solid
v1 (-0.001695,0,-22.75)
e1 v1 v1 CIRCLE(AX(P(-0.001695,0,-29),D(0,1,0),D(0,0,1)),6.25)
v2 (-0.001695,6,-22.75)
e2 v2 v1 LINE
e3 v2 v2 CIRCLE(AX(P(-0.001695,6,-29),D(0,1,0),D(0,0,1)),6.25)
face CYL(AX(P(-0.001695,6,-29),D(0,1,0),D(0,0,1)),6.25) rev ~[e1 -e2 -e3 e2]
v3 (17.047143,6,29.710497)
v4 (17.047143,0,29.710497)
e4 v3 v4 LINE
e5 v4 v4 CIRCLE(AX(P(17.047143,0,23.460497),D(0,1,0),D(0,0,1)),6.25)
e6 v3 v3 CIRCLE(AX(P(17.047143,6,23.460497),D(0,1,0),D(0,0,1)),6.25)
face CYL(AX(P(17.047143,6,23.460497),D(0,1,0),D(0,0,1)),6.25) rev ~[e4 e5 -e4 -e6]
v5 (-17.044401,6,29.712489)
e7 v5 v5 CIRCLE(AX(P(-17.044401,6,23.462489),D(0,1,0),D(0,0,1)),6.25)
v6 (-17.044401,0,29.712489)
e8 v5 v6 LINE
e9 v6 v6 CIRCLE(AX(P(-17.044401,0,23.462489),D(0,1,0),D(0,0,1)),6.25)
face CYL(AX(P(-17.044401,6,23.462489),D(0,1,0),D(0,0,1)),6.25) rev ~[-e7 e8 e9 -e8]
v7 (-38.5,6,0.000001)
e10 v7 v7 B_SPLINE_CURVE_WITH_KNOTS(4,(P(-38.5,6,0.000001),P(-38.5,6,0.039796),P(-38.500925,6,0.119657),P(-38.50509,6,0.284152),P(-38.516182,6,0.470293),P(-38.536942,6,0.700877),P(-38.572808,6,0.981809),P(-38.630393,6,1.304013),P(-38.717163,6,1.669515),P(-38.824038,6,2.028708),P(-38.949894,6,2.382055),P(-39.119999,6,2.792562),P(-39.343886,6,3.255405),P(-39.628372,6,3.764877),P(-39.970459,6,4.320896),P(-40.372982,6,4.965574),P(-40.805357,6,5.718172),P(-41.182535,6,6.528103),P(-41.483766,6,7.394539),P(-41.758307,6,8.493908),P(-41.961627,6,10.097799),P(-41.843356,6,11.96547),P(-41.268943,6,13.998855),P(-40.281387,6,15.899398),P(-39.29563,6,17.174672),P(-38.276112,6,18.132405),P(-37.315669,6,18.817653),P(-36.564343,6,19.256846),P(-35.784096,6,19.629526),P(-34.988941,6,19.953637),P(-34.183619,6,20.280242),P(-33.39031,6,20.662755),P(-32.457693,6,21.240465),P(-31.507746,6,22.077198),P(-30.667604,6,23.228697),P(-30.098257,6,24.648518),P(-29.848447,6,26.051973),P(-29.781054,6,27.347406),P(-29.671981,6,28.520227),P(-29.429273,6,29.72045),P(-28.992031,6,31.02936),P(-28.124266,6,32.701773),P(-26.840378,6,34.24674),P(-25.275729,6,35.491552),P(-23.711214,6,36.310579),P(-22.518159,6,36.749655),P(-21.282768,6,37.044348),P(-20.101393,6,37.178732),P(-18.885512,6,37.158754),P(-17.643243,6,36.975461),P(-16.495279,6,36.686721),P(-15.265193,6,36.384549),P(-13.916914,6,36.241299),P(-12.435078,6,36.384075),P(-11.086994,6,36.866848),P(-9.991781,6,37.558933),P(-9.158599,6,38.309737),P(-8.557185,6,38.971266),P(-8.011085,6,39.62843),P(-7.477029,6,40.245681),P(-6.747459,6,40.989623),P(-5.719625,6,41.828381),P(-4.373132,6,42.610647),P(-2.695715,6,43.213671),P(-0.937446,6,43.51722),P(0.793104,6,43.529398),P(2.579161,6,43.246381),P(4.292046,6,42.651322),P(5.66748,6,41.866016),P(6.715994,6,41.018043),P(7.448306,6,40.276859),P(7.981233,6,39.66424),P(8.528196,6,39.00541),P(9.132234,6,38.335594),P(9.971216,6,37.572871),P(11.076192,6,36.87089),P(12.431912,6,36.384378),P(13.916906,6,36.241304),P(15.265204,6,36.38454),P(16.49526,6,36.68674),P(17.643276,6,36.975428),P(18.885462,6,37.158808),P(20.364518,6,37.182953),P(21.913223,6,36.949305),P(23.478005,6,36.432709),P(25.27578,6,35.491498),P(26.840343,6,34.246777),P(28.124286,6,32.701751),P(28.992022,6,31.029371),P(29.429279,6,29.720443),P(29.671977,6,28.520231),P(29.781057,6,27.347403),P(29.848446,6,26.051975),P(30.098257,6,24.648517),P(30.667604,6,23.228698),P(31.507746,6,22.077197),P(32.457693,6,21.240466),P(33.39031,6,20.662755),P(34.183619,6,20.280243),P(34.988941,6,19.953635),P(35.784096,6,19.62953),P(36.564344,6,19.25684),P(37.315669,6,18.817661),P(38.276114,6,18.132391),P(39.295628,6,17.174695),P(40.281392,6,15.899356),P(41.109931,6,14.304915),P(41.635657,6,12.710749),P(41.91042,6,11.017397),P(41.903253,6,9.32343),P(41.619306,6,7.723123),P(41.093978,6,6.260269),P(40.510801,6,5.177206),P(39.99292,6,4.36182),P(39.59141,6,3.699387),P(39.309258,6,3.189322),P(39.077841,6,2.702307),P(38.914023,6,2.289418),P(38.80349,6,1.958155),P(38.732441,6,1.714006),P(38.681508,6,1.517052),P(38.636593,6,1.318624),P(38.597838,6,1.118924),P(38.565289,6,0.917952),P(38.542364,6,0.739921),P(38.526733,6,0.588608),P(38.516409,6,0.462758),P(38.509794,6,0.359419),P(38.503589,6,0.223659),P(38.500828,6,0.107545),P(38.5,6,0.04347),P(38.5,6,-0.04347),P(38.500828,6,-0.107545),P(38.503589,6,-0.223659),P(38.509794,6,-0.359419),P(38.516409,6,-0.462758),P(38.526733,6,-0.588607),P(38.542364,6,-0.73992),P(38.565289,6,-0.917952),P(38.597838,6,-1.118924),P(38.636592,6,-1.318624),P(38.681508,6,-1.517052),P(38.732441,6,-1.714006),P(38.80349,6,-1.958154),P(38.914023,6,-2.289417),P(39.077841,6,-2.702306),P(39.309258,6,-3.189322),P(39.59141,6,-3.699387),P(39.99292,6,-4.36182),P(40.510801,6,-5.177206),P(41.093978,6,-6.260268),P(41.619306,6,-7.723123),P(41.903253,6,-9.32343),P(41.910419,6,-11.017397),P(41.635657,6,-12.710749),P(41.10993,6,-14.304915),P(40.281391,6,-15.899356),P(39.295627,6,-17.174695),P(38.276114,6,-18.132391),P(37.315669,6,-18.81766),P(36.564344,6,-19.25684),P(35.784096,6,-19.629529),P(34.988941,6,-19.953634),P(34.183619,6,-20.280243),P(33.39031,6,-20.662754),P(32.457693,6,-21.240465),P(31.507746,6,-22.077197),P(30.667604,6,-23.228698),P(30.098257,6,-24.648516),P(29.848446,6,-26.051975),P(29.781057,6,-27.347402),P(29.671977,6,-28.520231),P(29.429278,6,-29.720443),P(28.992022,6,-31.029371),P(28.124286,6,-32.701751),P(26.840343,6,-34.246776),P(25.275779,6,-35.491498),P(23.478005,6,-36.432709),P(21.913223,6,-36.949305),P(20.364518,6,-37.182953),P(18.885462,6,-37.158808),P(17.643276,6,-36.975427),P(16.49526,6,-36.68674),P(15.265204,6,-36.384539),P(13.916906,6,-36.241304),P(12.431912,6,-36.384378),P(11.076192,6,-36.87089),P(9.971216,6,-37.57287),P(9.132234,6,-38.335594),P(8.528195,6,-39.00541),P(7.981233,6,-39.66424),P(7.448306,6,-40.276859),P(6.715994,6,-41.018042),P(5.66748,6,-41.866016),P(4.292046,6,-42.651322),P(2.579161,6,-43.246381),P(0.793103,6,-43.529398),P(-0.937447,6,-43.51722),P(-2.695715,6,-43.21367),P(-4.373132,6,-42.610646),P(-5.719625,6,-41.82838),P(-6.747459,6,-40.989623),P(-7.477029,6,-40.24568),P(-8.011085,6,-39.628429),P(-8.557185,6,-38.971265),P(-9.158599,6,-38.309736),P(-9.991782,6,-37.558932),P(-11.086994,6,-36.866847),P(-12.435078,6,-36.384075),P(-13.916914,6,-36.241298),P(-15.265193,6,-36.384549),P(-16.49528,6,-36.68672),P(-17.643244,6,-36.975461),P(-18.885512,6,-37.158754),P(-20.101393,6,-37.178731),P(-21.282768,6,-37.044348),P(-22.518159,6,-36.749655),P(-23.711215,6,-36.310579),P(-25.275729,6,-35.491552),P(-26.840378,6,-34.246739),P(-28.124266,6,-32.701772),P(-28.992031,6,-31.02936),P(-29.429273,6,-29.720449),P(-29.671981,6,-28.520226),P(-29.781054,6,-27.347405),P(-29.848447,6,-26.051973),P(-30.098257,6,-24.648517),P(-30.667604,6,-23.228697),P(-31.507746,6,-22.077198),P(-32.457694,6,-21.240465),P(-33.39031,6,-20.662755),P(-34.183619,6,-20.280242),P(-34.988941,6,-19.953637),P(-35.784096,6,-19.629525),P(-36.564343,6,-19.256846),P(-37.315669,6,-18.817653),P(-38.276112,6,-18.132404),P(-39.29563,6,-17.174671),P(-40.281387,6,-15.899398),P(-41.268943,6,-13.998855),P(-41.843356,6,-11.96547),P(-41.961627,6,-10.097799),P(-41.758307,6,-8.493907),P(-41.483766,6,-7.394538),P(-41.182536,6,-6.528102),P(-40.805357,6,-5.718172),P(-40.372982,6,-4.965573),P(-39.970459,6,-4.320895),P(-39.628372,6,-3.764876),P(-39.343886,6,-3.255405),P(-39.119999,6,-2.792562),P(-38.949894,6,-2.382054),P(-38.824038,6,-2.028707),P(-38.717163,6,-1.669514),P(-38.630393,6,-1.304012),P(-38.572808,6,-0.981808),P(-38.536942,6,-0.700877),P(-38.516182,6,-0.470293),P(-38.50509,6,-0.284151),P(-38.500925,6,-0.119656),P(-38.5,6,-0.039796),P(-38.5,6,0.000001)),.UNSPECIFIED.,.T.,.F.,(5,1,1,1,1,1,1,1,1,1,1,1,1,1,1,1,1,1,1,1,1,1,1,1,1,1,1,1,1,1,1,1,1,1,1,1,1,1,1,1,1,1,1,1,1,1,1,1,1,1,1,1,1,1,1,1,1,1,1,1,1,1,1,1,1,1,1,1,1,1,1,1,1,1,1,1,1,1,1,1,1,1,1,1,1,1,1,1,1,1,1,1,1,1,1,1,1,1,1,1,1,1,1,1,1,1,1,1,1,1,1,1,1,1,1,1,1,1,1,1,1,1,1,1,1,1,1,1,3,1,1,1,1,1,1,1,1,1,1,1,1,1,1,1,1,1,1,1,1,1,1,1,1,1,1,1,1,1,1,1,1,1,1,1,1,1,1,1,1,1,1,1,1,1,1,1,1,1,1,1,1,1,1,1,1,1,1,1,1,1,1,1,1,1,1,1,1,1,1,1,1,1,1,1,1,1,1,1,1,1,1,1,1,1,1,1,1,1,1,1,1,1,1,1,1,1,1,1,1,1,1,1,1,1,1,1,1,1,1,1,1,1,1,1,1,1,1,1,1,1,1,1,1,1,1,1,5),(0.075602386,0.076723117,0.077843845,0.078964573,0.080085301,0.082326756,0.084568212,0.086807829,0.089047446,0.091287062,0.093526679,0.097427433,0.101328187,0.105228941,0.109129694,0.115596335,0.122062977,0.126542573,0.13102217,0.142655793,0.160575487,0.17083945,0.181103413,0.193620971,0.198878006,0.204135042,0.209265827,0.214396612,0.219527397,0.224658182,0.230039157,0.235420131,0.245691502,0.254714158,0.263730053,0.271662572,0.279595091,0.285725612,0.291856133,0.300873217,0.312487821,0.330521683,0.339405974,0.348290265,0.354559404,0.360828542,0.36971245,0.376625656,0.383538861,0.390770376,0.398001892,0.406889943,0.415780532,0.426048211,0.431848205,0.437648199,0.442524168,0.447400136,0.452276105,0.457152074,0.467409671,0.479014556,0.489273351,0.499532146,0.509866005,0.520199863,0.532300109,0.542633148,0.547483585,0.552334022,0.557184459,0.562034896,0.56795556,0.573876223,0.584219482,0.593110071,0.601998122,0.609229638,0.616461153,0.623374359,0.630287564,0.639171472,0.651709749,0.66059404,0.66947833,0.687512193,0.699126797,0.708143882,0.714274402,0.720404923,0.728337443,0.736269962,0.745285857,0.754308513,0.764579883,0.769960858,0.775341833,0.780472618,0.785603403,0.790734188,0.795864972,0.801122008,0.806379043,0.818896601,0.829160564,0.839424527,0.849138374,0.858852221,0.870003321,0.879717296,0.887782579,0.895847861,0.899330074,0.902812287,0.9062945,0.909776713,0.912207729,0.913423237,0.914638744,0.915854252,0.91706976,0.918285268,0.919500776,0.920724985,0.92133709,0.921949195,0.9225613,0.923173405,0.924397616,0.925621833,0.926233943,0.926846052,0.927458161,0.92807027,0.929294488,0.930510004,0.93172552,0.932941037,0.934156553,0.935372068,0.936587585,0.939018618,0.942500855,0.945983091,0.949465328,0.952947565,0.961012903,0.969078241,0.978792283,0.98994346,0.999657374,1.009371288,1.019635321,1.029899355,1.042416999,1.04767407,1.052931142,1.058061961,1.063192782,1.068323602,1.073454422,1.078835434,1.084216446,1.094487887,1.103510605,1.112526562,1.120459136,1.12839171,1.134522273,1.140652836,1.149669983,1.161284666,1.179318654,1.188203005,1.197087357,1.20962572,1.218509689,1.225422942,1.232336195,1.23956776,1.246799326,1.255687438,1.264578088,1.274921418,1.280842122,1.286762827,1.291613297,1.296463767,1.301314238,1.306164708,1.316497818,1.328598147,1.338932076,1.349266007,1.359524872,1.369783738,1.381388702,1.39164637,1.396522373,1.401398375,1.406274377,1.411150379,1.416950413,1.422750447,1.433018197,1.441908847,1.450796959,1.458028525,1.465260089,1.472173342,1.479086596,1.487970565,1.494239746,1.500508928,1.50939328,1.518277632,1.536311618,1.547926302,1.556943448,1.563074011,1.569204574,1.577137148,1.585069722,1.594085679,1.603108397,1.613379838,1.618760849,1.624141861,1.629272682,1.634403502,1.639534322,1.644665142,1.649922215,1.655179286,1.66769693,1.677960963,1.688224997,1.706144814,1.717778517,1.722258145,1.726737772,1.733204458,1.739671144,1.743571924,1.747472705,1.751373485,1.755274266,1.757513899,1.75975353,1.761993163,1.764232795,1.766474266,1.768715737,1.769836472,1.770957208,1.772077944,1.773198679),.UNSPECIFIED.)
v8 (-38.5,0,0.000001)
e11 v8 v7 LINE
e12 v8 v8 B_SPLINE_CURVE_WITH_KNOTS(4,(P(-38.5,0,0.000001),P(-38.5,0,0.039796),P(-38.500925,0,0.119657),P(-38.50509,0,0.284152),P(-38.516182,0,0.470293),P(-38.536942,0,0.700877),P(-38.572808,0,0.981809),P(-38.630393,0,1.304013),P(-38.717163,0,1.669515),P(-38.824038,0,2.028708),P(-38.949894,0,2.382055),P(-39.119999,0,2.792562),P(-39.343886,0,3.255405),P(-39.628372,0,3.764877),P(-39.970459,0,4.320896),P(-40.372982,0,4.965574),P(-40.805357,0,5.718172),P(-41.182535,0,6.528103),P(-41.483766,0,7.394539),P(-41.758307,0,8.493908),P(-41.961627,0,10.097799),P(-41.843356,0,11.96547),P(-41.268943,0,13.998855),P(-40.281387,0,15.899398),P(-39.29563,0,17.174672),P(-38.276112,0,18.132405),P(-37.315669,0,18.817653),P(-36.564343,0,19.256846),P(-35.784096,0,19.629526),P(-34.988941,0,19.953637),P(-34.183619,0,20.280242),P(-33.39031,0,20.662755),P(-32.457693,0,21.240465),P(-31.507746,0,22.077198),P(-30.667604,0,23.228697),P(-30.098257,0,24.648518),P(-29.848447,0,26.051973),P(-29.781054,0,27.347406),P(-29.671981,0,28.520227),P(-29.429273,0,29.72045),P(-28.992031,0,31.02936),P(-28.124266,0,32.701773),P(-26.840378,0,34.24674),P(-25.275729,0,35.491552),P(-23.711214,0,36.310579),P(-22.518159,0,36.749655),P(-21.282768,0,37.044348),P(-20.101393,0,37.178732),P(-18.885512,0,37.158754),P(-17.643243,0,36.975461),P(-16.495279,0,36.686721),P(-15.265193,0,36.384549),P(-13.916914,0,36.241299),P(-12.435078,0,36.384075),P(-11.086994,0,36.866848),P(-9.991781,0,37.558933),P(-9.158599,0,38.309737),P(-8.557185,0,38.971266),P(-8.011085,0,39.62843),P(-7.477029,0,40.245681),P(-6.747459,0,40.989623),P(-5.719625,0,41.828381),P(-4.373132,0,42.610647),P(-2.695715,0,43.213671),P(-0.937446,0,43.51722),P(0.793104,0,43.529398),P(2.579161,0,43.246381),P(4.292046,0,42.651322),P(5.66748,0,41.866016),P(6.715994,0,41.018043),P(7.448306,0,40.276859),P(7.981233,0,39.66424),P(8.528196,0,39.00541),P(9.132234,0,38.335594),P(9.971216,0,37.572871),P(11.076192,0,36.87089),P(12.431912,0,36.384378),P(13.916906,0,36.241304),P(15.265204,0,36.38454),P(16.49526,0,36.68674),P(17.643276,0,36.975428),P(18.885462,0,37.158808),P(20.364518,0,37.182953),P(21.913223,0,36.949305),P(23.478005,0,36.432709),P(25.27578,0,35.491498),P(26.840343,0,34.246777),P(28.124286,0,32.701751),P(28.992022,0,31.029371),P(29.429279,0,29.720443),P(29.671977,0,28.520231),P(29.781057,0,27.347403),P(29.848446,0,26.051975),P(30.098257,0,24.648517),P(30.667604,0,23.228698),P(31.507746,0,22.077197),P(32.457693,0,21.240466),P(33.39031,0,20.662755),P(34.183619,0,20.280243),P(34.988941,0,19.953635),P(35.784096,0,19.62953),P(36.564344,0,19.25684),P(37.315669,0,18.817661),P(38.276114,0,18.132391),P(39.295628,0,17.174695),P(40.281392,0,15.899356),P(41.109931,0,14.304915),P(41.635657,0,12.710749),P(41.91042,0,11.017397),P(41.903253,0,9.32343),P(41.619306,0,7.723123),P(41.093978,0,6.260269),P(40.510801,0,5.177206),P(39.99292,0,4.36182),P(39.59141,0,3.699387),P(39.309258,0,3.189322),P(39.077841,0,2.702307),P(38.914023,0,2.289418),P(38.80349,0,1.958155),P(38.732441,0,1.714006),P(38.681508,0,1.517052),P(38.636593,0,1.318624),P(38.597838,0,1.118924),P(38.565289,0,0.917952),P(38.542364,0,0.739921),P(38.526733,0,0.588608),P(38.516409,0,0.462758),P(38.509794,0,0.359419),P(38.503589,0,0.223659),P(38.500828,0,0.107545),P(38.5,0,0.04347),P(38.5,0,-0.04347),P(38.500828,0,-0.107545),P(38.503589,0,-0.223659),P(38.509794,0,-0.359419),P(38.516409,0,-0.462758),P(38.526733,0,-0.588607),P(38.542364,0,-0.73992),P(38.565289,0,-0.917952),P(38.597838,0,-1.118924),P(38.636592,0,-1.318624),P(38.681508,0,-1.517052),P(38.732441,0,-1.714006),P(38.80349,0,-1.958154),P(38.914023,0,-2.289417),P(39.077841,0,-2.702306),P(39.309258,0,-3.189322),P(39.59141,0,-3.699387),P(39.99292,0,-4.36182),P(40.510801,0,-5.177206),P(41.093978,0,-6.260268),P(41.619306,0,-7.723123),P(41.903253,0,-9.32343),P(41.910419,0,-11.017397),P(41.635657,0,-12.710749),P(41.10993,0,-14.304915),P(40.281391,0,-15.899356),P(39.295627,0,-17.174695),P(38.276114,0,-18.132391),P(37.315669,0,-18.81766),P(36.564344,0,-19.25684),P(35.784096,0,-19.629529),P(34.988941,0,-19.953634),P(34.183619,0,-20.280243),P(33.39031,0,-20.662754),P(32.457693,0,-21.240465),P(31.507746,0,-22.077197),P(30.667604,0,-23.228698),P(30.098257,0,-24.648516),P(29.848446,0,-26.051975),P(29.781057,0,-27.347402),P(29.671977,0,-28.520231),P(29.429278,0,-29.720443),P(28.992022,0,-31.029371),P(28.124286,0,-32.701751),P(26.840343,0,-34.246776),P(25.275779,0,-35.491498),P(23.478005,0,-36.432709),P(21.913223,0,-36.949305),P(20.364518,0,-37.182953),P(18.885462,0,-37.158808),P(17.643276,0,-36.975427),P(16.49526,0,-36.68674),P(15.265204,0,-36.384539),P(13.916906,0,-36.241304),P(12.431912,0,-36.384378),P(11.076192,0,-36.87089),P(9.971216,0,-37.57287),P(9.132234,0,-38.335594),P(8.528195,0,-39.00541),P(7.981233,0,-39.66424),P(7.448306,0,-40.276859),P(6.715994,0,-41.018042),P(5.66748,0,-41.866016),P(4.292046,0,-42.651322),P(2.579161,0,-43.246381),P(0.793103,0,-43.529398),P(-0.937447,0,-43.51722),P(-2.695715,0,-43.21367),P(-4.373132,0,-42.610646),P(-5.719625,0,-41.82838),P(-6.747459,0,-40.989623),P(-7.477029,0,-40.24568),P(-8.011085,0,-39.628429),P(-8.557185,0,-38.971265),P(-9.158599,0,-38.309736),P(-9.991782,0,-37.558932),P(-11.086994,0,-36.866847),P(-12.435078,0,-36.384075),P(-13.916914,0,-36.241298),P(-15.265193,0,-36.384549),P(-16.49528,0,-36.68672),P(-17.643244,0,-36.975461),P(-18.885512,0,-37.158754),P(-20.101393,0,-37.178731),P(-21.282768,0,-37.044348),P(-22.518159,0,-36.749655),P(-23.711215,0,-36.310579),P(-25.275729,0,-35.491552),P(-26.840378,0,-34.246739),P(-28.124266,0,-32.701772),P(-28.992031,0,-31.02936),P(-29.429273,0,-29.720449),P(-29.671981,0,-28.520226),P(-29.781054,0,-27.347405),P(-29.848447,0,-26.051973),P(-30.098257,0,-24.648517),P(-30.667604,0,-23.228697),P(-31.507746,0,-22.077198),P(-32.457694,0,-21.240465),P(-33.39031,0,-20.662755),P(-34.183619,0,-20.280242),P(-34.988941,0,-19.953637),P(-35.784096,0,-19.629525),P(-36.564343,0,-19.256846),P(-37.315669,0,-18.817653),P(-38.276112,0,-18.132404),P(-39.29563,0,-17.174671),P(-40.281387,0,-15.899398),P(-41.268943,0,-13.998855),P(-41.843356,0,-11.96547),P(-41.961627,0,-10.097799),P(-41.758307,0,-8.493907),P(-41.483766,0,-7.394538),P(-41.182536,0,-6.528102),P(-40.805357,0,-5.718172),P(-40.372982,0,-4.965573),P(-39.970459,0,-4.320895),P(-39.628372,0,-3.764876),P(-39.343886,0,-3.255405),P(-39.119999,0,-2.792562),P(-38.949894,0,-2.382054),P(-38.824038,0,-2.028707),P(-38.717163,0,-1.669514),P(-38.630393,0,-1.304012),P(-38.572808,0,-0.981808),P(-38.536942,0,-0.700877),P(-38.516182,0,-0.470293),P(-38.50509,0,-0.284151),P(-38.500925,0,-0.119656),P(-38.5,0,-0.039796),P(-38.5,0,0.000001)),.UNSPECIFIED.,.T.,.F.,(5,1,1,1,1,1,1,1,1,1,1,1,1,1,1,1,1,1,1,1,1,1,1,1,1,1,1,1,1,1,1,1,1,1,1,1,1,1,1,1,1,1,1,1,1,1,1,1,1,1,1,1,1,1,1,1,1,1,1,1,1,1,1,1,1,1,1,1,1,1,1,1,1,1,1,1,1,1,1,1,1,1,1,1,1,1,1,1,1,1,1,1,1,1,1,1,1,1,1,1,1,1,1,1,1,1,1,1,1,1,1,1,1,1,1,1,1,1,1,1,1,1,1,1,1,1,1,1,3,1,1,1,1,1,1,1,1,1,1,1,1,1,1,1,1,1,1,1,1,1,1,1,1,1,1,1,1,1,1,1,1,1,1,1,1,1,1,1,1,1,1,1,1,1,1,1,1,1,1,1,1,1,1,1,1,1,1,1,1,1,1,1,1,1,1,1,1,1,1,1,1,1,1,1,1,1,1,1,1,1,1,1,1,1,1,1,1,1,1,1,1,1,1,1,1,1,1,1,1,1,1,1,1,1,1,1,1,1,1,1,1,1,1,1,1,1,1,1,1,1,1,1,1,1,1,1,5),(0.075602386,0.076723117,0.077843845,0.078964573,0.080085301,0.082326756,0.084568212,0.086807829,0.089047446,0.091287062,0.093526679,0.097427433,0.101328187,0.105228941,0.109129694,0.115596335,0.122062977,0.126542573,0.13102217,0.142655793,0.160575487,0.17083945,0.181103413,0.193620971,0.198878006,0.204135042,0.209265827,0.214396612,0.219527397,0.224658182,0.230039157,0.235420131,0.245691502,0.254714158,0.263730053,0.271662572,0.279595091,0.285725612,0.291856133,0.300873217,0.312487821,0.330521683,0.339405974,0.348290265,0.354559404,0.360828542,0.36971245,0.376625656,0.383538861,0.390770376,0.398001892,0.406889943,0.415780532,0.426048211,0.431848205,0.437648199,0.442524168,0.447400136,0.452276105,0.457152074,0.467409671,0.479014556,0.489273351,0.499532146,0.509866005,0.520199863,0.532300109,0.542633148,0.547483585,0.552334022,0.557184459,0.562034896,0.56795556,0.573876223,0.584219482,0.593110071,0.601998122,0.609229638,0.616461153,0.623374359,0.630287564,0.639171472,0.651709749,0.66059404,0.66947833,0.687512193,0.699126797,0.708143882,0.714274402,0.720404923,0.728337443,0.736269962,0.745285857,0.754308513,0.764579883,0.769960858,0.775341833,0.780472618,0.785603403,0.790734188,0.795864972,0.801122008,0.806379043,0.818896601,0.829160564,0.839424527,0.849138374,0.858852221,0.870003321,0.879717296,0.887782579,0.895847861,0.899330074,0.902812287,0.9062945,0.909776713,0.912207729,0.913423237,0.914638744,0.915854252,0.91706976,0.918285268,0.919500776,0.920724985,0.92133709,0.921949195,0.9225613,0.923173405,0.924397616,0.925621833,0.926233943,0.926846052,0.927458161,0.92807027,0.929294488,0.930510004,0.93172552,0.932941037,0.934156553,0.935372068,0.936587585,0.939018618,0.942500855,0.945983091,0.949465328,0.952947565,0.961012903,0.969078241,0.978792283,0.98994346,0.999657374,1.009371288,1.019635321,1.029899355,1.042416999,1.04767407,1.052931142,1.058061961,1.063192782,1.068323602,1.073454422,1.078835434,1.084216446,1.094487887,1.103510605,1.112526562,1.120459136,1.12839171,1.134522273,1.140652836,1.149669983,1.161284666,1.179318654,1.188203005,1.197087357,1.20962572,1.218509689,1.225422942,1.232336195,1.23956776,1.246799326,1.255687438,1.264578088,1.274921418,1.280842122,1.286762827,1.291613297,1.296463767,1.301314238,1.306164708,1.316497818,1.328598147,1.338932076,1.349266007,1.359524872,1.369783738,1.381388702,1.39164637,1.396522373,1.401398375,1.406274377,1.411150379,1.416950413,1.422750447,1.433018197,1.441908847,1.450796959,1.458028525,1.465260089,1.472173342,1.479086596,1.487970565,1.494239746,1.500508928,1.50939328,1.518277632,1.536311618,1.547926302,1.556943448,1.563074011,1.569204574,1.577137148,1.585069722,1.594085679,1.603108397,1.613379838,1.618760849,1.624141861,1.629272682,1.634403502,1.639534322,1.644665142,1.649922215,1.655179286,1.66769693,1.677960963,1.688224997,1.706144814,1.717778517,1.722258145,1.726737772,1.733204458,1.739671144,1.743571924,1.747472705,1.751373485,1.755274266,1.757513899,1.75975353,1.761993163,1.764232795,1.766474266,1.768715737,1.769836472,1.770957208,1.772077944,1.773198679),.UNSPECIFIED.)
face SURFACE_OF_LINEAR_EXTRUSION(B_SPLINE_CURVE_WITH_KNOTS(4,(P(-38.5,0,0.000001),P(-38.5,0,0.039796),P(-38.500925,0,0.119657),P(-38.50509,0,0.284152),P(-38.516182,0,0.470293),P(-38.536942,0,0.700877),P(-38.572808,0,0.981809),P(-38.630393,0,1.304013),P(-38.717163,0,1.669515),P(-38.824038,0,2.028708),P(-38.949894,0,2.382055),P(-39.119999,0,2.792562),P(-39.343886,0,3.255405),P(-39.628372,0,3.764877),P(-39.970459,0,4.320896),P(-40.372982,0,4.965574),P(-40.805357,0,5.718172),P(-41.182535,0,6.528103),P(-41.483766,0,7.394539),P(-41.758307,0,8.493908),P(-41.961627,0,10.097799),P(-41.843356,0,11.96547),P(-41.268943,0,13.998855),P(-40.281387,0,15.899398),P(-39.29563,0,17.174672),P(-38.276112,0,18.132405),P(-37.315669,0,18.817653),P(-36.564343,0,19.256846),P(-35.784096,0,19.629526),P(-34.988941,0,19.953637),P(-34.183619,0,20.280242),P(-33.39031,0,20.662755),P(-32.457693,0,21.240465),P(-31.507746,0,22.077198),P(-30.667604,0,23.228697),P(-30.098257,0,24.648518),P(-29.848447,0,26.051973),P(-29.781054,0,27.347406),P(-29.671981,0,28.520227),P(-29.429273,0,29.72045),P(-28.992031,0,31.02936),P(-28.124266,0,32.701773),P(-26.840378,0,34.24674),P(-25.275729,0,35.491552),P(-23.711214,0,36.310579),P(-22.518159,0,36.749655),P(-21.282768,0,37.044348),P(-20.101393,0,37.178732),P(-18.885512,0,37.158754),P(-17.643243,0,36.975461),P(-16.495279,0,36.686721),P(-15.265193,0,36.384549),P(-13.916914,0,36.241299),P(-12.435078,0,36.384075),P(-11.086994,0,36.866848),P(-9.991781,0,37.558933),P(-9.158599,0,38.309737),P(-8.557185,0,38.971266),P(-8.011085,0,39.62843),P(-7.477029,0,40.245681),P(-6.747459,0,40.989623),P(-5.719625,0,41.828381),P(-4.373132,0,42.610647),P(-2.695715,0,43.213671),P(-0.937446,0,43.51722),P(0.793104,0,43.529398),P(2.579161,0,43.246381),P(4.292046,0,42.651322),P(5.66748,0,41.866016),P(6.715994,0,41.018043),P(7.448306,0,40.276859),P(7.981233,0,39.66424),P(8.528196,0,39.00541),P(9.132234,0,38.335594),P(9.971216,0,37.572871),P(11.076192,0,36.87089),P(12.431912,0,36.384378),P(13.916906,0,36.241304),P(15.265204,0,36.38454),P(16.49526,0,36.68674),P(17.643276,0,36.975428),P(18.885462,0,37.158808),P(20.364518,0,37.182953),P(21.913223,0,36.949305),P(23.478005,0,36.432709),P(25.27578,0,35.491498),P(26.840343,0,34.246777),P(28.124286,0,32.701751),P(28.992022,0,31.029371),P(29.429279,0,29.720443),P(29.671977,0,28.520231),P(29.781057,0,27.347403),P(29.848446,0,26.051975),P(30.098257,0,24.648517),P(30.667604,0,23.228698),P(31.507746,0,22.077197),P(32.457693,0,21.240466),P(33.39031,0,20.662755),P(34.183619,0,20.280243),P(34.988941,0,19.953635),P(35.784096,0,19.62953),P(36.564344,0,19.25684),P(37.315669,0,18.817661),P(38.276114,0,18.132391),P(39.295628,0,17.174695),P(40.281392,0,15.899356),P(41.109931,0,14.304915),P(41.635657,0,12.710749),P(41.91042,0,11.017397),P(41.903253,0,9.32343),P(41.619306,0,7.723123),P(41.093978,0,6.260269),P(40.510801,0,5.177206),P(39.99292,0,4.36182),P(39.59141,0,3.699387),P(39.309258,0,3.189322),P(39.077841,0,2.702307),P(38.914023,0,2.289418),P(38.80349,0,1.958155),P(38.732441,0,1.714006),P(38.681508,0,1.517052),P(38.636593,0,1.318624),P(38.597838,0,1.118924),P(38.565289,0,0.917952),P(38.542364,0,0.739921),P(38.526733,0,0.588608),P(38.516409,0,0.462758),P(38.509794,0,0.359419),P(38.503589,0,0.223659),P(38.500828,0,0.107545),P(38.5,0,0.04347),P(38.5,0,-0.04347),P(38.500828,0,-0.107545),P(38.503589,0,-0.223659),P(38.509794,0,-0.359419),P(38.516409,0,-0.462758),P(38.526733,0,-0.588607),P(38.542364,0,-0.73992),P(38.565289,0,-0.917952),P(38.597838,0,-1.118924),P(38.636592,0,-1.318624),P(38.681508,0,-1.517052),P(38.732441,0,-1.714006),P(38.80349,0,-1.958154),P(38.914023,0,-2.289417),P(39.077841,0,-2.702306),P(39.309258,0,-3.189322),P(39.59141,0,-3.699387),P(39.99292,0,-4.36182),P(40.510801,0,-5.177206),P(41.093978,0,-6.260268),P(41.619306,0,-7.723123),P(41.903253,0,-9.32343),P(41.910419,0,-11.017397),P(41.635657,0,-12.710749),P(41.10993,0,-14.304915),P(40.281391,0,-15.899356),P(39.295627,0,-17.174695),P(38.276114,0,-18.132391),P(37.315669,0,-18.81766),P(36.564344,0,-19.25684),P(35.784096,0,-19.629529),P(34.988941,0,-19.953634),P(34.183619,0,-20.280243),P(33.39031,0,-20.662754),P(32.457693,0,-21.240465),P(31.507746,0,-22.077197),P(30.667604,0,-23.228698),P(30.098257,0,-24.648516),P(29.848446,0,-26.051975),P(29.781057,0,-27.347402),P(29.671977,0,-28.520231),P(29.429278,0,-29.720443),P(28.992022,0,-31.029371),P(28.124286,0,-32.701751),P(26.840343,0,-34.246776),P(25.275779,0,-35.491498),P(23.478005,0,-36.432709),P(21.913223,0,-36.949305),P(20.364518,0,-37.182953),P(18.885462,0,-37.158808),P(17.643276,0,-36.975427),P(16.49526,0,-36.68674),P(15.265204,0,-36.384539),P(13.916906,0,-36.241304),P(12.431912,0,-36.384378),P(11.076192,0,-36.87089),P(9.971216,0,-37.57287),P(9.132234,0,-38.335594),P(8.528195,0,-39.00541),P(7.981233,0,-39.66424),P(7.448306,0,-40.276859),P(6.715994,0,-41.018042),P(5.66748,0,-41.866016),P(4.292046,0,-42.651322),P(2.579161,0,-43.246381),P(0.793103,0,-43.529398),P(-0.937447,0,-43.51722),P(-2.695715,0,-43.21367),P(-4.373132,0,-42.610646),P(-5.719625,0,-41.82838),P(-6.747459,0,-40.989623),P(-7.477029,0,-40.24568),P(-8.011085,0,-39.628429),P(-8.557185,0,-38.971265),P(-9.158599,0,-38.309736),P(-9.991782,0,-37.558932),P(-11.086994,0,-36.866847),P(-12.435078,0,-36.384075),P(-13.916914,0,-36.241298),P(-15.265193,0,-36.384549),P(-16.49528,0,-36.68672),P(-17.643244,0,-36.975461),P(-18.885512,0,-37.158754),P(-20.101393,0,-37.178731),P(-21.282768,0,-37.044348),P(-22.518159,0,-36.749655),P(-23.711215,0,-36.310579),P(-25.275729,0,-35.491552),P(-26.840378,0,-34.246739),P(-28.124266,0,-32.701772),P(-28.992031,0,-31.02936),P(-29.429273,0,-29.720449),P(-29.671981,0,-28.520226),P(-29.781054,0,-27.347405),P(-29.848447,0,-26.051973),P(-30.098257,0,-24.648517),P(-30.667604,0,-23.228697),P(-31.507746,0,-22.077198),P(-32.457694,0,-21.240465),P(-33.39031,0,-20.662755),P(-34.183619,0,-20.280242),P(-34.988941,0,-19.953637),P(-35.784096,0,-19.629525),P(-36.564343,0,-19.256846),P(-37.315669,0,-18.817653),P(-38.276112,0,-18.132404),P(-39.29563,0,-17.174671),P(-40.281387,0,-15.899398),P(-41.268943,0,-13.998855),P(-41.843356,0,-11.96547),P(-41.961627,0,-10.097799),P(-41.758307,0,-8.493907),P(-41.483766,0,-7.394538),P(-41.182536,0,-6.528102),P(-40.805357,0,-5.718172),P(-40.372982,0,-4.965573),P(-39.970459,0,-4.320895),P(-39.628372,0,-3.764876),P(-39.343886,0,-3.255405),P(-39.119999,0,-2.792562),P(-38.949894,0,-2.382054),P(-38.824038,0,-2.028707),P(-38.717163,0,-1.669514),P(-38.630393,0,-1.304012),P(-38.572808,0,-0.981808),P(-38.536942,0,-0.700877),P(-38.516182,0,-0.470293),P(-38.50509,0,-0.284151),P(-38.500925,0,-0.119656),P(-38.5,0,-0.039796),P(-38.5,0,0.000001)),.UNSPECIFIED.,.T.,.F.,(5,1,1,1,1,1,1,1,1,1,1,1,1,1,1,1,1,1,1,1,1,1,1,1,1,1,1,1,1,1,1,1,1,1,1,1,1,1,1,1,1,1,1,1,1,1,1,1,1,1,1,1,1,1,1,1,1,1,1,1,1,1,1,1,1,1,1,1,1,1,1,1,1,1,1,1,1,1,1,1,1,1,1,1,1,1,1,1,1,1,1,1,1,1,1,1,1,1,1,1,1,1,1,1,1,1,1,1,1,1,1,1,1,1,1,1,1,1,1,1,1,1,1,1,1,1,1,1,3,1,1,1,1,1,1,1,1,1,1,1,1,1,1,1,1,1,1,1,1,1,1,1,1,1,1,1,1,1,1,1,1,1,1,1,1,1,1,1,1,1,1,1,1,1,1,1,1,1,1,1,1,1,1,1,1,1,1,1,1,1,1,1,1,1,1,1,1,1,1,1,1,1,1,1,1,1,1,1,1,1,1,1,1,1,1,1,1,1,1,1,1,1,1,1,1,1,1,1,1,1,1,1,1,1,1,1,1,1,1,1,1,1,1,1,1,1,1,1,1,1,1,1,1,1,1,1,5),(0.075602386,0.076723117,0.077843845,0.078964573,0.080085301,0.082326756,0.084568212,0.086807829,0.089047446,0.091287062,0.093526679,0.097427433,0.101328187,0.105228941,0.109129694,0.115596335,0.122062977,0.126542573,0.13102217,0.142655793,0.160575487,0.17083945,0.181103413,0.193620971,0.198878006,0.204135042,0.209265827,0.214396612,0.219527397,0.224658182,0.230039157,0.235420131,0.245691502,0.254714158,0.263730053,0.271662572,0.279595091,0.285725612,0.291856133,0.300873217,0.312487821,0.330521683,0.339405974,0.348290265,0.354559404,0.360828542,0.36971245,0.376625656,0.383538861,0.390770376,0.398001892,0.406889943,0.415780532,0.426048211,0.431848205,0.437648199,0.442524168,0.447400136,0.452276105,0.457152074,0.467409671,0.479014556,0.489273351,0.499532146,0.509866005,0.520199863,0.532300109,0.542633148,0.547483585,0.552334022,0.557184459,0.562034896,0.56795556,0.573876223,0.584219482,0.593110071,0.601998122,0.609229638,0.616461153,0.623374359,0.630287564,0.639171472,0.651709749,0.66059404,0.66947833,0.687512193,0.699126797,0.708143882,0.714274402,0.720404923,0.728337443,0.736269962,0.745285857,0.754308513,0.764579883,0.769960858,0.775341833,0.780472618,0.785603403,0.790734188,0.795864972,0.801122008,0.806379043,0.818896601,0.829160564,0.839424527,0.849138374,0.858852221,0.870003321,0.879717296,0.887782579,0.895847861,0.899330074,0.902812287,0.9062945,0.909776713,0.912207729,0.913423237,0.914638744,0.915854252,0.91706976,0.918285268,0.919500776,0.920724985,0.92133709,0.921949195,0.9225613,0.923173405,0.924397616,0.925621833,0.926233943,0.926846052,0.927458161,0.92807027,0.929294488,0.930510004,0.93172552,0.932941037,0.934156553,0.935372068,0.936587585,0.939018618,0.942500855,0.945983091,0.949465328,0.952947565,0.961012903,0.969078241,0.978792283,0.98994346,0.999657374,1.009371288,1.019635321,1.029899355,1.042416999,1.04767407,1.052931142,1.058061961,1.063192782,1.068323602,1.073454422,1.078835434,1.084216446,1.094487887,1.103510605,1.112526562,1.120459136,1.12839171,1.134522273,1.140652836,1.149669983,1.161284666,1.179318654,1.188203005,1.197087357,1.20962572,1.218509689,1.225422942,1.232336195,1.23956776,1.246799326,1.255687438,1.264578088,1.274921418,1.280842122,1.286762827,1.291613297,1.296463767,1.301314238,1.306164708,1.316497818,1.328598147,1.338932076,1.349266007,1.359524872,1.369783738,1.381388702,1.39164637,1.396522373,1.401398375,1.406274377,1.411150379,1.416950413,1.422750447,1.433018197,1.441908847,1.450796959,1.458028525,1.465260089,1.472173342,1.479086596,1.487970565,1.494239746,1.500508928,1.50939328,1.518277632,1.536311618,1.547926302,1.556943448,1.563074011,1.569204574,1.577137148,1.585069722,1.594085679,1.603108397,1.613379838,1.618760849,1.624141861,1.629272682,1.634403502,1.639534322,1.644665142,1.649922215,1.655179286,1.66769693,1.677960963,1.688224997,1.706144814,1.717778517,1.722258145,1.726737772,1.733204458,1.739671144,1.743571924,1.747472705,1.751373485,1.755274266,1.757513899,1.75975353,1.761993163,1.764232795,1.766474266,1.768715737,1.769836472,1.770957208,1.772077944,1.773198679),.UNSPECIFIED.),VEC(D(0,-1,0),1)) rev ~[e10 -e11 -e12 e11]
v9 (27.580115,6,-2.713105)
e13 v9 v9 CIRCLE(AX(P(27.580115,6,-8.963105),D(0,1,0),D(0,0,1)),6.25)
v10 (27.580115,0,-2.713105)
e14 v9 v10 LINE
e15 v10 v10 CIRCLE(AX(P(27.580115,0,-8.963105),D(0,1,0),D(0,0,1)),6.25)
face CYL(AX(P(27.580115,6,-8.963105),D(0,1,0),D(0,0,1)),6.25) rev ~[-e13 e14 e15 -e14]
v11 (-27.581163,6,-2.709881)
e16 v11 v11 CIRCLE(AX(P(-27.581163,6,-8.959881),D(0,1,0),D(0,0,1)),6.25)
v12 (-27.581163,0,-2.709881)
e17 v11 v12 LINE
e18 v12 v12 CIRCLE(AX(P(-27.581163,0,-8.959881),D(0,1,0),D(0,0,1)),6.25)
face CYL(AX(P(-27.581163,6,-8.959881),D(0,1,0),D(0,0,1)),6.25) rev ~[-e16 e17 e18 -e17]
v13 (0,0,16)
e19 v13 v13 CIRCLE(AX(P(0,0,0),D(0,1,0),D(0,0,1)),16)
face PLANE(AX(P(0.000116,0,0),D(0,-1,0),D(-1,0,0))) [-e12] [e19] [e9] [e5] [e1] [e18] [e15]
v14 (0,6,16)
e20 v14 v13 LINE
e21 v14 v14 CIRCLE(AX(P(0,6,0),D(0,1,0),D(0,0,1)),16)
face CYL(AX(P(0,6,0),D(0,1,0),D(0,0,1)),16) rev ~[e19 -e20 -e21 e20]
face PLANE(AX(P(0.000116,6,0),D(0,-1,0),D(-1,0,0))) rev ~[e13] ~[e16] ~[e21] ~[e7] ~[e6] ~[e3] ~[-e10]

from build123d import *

# Parameters (mm, degrees)
BOSS_EXTRUDE1_DEPTH = 6
SKETCH2_R           = 16
SKETCH2_R_2         = 6.25
CUT_EXTRUDE1_DEPTH  = 19


with BuildPart() as part:
    # Sketch1 → Boss-Extrude1 (new body)
    with BuildSketch(Plane(origin=(0, 0, 0), x_dir=(1, 0, 0), z_dir=(0, 1, 0))):
        with BuildLine():
            add(Edge.make_bspline(
                [(38.5, -2.27e-07), (38.5, -0.043470396), (38.500828162, -0.107545255), (38.503588715, -0.223659382), (38.509794397, -0.35941934), (38.516408597, -0.462758193), (38.526732839, -0.588607669), (38.542364014, -0.739920533), (38.565289341, -0.917951981), (38.597837579, -1.118923787), (38.636592503, -1.318623915), (38.681507762, -1.517051901), (38.73244095, -1.714006008), (38.803489693, -1.958154652), (38.914023171, -2.289417724), (39.077841432, -2.702306671), (39.309257683, -3.189321959), (39.591409701, -3.699386778), (39.992920058, -4.361820486), (40.510801203, -5.177206446), (41.093977751, -6.260268572), (41.619305942, -7.723123096), (41.903253043, -9.32343001), (41.910419516, -11.017397237), (41.635656581, -12.710748898), (41.109930516, -14.304915331), (40.281391526, -15.899355985), (39.295627515, -17.174695403), (38.276113899, -18.132391119), (37.315668596, -18.817660728), (36.564343747, -19.256840177), (35.784095753, -19.629529715), (34.988941495, -19.953634526), (34.183619141, -20.280243466), (33.390310312, -20.662754519), (32.457693416, -21.240465676), (31.507746443, -22.077197191), (30.667603801, -23.228697843), (30.098257489, -24.648516652), (29.84844567, -26.051974778), (29.781056781, -27.347402648), (29.671977263, -28.520230893), (29.429278506, -29.720443213), (28.9920217, -31.029370818), (28.124285706, -32.701751225), (26.840343181, -34.246776755), (25.275779542, -35.491498125), (23.478004783, -36.432709165), (21.913223121, -36.949305046), (20.364518433, -37.182953417), (18.885461733, -37.158808152), (17.643275736, -36.975427587), (16.495260417, -36.686740169), (15.265204015, -36.384539815), (13.916906036, -36.241303965), (12.431912432, -36.384378335), (11.076192178, -36.870890154), (9.971216488, -37.572870605), (9.132234317, -38.335594229), (8.528195507, -39.005410004), (7.981233349, -39.664239916), (7.448305996, -40.276858975), (6.715993714, -41.018042711), (5.667480493, -41.866015956), (4.292046179, -42.651321874), (2.579161314, -43.246381255), (0.793103598, -43.529398082), (-0.93744641, -43.517220067), (-2.695715174, -43.213670595), (-4.373132154, -42.610646718), (-5.719625125, -41.82838078), (-6.747459142, -40.98962338), (-7.477029215, -40.245680746), (-8.011084692, -39.628429622), (-8.557184562, -38.971265503), (-9.158599236, -38.309736697), (-9.991781441, -37.558932749), (-11.086993502, -36.866847551), (-12.435078351, -36.384075198), (-13.916913986, -36.241298882), (-15.265192629, -36.384549203), (-16.495279367, -36.68672092), (-17.643243408, -36.975461318), (-18.885511707, -37.158754303), (-20.101393148, -37.178731745), (-21.282768126, -37.044348464), (-22.518158934, -36.749655236), (-23.71121442, -36.310579085), (-25.275729309, -35.491552369), (-26.840377568, -34.246739557), (-28.124265745, -32.701772854), (-28.992031355, -31.029360487), (-29.429272745, -29.720449617), (-29.671981334, -28.520226691), (-29.781054173, -27.347405753), (-29.848447076, -26.051973458), (-30.098256574, -24.648517914), (-30.66760424, -23.228697355), (-31.50774586, -22.077198013), (-32.457693426, -21.240465301), (-33.390309873, -20.662755323), (-34.183619126, -20.280242211), (-34.988940921, -19.953637036), (-35.784095995, -19.629525805), (-36.564342819, -19.256846455), (-37.315669245, -18.81765327), (-38.27611222, -18.132404625), (-39.29563009, -17.17467154), (-40.281386546, -15.899398131), (-41.268942654, -13.99885539), (-41.843355972, -11.965470402), (-41.961627302, -10.09779934), (-41.758306879, -8.493907757), (-41.483766237, -7.394538802), (-41.182535484, -6.52810293), (-40.805356778, -5.718172081), (-40.372982399, -4.965573584), (-39.970459017, -4.320895807), (-39.628372221, -3.764876777), (-39.343885565, -3.255405419), (-39.119999057, -2.792562413), (-38.949893586, -2.382055007), (-38.824037871, -2.02870762), (-38.717162799, -1.669514946), (-38.630392956, -1.304012939), (-38.572807506, -0.981808573), (-38.536942229, -0.70087716), (-38.516182413, -0.470293124), (-38.505089867, -0.28415174), (-38.500925433, -0.119656785), (-38.500000002, -0.039796198), (-38.5, -5.42e-07)],
                knots=[0.075602386, 0.075602386, 0.075602386, 0.075602386, 0.075602386, 0.076826597, 0.077438702, 0.078050807, 0.078662912, 0.079275017, 0.080499226, 0.081714734, 0.082930242, 0.08414575, 0.085361258, 0.086576765, 0.087792273, 0.090223289, 0.093705502, 0.097187715, 0.100669928, 0.104152141, 0.112217423, 0.120282706, 0.129996681, 0.141147781, 0.150861628, 0.160575475, 0.170839438, 0.181103401, 0.193620959, 0.198877994, 0.20413503, 0.209265814, 0.214396599, 0.219527384, 0.224658169, 0.230039144, 0.235420119, 0.245691489, 0.254714145, 0.26373004, 0.271662559, 0.279595079, 0.2857256, 0.29185612, 0.300873205, 0.312487809, 0.330521672, 0.339405962, 0.348290253, 0.36082853, 0.369712438, 0.376625643, 0.383538849, 0.390770364, 0.39800188, 0.406889931, 0.41578052, 0.426123779, 0.432044442, 0.437965106, 0.442815543, 0.44766598, 0.452516417, 0.457366854, 0.467699893, 0.479800139, 0.490133997, 0.500467856, 0.510726651, 0.520985446, 0.532590331, 0.542847928, 0.547723897, 0.552599866, 0.557475834, 0.562351803, 0.568151797, 0.573951791, 0.58421947, 0.593110059, 0.60199811, 0.609229626, 0.616461141, 0.623374346, 0.630287552, 0.63917146, 0.645440598, 0.651709737, 0.660594028, 0.669478319, 0.687512181, 0.699126785, 0.708143869, 0.71427439, 0.720404911, 0.72833743, 0.736269949, 0.745285844, 0.7543085, 0.764579871, 0.769960845, 0.77534182, 0.780472605, 0.78560339, 0.790734175, 0.79586496, 0.801121996, 0.806379031, 0.818896589, 0.829160552, 0.839424515, 0.857344209, 0.868977832, 0.873457429, 0.877937025, 0.884403667, 0.890870308, 0.894771061, 0.898671815, 0.902572569, 0.906473323, 0.90871294, 0.910952556, 0.913192173, 0.91543179, 0.917673246, 0.919914701, 0.921035429, 0.922156157, 0.923276885, 0.924397616, 0.924397616, 0.924397616, 0.924397616, 0.924397616], degree=4))
            add(Edge.make_bspline(
                [(38.5, -2.27e-07), (38.5, 0.04347017), (38.500828162, 0.107545028), (38.503588714, 0.223659155), (38.509794396, 0.359419113), (38.516408595, 0.462757967), (38.526732836, 0.588607442), (38.542364011, 0.739920306), (38.565289338, 0.917951754), (38.597837575, 1.118923561), (38.636592497, 1.318623688), (38.681507756, 1.517051675), (38.732440943, 1.714005782), (38.803489685, 1.958154426), (38.914023162, 2.289417499), (39.077841421, 2.702306447), (39.30925767, 3.189321735), (39.591409685, 3.699386556), (39.99292004, 4.361820265), (40.510801182, 5.177206227), (41.093977726, 6.260268356), (41.61930591, 7.723122882), (41.903253005, 9.323429797), (41.91041947, 11.017397024), (41.635656529, 12.710748684), (41.109930458, 14.304915115), (40.28139146, 15.899355766), (39.295627445, 17.17469518), (38.276113825, 18.132390892), (37.315668519, 18.817660497), (36.564343668, 19.256839942), (35.784095673, 19.629529477), (34.988941413, 19.953634285), (34.183619058, 20.280243221), (33.390310227, 20.662754271), (32.457693329, 21.240465424), (31.507746353, 22.077196936), (30.667603706, 23.228697584), (30.098257388, 24.648516391), (29.848445564, 26.051974516), (29.781056669, 27.347402385), (29.671977147, 28.52023063), (29.429278385, 29.72044295), (28.992021573, 31.029370553), (28.124285572, 32.701750955), (26.840343041, 34.24677648), (25.275779397, 35.491497844), (23.478004634, 36.432708877), (21.91322297, 36.949304751), (20.364518281, 37.182953116), (18.88546158, 37.158807845), (17.643275585, 36.975427275), (16.495260267, 36.686739852), (15.265203866, 36.384539493), (13.916905887, 36.241303638), (12.431912283, 36.384378001), (11.076192027, 36.870889815), (9.971216334, 37.572870262), (9.13223416, 38.335593883), (8.528195348, 39.005409655), (7.981233187, 39.664239564), (7.448305832, 40.276858621), (6.715993546, 41.018042354), (5.667480321, 41.866015595), (4.292046005, 42.651321507), (2.579161137, 43.246380881), (0.79310342, 43.529397701), (-0.937446588, 43.517219679), (-2.695715351, 43.213670199), (-4.373132329, 42.610646315), (-5.719625296, 41.828380372), (-6.74745931, 40.989622968), (-7.47702938, 40.245680331), (-8.011084854, 39.628429205), (-8.557184721, 38.971265084), (-9.158599393, 38.309736275), (-9.991781594, 37.558932324), (-11.086993653, 36.866847121), (-12.4350785, 36.384074763), (-13.916914134, 36.241298441), (-15.265192778, 36.384548756), (-16.495279517, 36.686720468), (-17.643243559, 36.975460861), (-18.885511859, 37.158753842), (-20.1013933, 37.178731278), (-21.282768278, 37.044347992), (-22.518159084, 36.749654759), (-23.711214569, 36.310578603), (-25.275729454, 35.491551881), (-26.840377708, 34.246739063), (-28.124265879, 32.701772355), (-28.992031482, 31.029359984), (-29.429272867, 29.720449112), (-29.671981451, 28.520226185), (-29.781054285, 27.347405247), (-29.848447182, 26.051972951), (-30.098256675, 24.648517406), (-30.667604335, 23.228696845), (-31.50774595, 22.0771975), (-32.457693513, 21.240464784), (-33.390309958, 20.662754802), (-34.183619209, 20.280241687), (-34.988941003, 19.953636509), (-35.784096075, 19.629525274), (-36.564342898, 19.256845921), (-37.315669322, 18.817652733), (-38.276112294, 18.132404084), (-39.295630161, 17.174670995), (-40.281386611, 15.899397582), (-41.268942712, 13.998854836), (-41.843356021, 11.965469846), (-41.961627344, 10.097798783), (-41.758306914, 8.493907202), (-41.483766267, 7.394538248), (-41.182535511, 6.528102377), (-40.805356801, 5.71817153), (-40.372982419, 4.965573034), (-39.970459035, 4.320895259), (-39.628372236, 3.764876231), (-39.343885579, 3.255404873), (-39.119999069, 2.792561868), (-38.949893596, 2.382054464), (-38.824037879, 2.028707077), (-38.717162806, 1.669514403), (-38.630392961, 1.304012396), (-38.57280751, 0.981808031), (-38.536942232, 0.700876618), (-38.516182415, 0.470292582), (-38.505089868, 0.284151198), (-38.500925433, 0.119656243), (-38.500000002, 0.039795656), (-38.5, -5.42e-07)],
                knots=[0.075602388, 0.075602388, 0.075602388, 0.075602388, 0.075602388, 0.076826597, 0.077438702, 0.078050807, 0.078662912, 0.079275017, 0.080499226, 0.081714734, 0.082930242, 0.08414575, 0.085361258, 0.086576765, 0.087792273, 0.090223289, 0.093705502, 0.097187715, 0.100669928, 0.104152141, 0.112217423, 0.120282706, 0.129996681, 0.141147781, 0.150861628, 0.160575475, 0.170839438, 0.181103401, 0.193620959, 0.198877994, 0.20413503, 0.209265814, 0.214396599, 0.219527384, 0.224658169, 0.230039144, 0.235420119, 0.245691489, 0.254714145, 0.26373004, 0.271662559, 0.279595079, 0.2857256, 0.29185612, 0.300873205, 0.312487809, 0.330521672, 0.339405962, 0.348290253, 0.36082853, 0.369712438, 0.376625643, 0.383538849, 0.390770364, 0.39800188, 0.406889931, 0.41578052, 0.426123779, 0.432044442, 0.437965106, 0.442815543, 0.44766598, 0.452516417, 0.457366854, 0.467699893, 0.479800139, 0.490133997, 0.500467856, 0.510726651, 0.520985446, 0.532590331, 0.542847928, 0.547723897, 0.552599866, 0.557475834, 0.562351803, 0.568151797, 0.573951791, 0.58421947, 0.593110059, 0.60199811, 0.609229626, 0.616461141, 0.623374346, 0.630287552, 0.63917146, 0.645440598, 0.651709737, 0.660594028, 0.669478319, 0.687512181, 0.699126785, 0.708143869, 0.71427439, 0.720404911, 0.72833743, 0.736269949, 0.745285844, 0.7543085, 0.764579871, 0.769960845, 0.77534182, 0.780472605, 0.78560339, 0.790734175, 0.79586496, 0.801121996, 0.806379031, 0.818896589, 0.829160552, 0.839424515, 0.857344209, 0.868977832, 0.873457429, 0.877937025, 0.884403667, 0.890870308, 0.894771061, 0.898671815, 0.902572569, 0.906473323, 0.90871294, 0.910952556, 0.913192173, 0.91543179, 0.917673246, 0.919914701, 0.921035429, 0.922156157, 0.923276885, 0.924397612, 0.924397612, 0.924397612, 0.924397612, 0.924397612], degree=4))
        make_face()
    extrude(amount=BOSS_EXTRUDE1_DEPTH)

    # Sketch2 → Cut-Extrude1 (cut)
    with BuildSketch(Plane(origin=(0, 6, 0), x_dir=(1, 0, 0), z_dir=(0, 1, 0))):
        with Locations(Location((0, 0, 0), (0, 0, 270))):
            Circle(SKETCH2_R)
        with Locations(Location((27.580115252, 8.963104522, 0), (0, 0, 270))):
            Circle(SKETCH2_R_2)
        with Locations(Location((17.047143282, -23.460496711, 0), (0, 0, 270))):
            Circle(SKETCH2_R_2)
        with Locations(Location((-17.044401293, -23.462488883, 0), (0, 0, 270))):
            Circle(SKETCH2_R_2)
        with Locations(Location((-27.581162599, 8.959881121, 0), (0, 0, 270))):
            Circle(SKETCH2_R_2)
        with Locations(Location((-0.001694642, 28.99999995, 0), (0, 0, 270))):
            Circle(SKETCH2_R_2)
    extrude(amount=-CUT_EXTRUDE1_DEPTH, mode=Mode.SUBTRACT)


solid = part.part
